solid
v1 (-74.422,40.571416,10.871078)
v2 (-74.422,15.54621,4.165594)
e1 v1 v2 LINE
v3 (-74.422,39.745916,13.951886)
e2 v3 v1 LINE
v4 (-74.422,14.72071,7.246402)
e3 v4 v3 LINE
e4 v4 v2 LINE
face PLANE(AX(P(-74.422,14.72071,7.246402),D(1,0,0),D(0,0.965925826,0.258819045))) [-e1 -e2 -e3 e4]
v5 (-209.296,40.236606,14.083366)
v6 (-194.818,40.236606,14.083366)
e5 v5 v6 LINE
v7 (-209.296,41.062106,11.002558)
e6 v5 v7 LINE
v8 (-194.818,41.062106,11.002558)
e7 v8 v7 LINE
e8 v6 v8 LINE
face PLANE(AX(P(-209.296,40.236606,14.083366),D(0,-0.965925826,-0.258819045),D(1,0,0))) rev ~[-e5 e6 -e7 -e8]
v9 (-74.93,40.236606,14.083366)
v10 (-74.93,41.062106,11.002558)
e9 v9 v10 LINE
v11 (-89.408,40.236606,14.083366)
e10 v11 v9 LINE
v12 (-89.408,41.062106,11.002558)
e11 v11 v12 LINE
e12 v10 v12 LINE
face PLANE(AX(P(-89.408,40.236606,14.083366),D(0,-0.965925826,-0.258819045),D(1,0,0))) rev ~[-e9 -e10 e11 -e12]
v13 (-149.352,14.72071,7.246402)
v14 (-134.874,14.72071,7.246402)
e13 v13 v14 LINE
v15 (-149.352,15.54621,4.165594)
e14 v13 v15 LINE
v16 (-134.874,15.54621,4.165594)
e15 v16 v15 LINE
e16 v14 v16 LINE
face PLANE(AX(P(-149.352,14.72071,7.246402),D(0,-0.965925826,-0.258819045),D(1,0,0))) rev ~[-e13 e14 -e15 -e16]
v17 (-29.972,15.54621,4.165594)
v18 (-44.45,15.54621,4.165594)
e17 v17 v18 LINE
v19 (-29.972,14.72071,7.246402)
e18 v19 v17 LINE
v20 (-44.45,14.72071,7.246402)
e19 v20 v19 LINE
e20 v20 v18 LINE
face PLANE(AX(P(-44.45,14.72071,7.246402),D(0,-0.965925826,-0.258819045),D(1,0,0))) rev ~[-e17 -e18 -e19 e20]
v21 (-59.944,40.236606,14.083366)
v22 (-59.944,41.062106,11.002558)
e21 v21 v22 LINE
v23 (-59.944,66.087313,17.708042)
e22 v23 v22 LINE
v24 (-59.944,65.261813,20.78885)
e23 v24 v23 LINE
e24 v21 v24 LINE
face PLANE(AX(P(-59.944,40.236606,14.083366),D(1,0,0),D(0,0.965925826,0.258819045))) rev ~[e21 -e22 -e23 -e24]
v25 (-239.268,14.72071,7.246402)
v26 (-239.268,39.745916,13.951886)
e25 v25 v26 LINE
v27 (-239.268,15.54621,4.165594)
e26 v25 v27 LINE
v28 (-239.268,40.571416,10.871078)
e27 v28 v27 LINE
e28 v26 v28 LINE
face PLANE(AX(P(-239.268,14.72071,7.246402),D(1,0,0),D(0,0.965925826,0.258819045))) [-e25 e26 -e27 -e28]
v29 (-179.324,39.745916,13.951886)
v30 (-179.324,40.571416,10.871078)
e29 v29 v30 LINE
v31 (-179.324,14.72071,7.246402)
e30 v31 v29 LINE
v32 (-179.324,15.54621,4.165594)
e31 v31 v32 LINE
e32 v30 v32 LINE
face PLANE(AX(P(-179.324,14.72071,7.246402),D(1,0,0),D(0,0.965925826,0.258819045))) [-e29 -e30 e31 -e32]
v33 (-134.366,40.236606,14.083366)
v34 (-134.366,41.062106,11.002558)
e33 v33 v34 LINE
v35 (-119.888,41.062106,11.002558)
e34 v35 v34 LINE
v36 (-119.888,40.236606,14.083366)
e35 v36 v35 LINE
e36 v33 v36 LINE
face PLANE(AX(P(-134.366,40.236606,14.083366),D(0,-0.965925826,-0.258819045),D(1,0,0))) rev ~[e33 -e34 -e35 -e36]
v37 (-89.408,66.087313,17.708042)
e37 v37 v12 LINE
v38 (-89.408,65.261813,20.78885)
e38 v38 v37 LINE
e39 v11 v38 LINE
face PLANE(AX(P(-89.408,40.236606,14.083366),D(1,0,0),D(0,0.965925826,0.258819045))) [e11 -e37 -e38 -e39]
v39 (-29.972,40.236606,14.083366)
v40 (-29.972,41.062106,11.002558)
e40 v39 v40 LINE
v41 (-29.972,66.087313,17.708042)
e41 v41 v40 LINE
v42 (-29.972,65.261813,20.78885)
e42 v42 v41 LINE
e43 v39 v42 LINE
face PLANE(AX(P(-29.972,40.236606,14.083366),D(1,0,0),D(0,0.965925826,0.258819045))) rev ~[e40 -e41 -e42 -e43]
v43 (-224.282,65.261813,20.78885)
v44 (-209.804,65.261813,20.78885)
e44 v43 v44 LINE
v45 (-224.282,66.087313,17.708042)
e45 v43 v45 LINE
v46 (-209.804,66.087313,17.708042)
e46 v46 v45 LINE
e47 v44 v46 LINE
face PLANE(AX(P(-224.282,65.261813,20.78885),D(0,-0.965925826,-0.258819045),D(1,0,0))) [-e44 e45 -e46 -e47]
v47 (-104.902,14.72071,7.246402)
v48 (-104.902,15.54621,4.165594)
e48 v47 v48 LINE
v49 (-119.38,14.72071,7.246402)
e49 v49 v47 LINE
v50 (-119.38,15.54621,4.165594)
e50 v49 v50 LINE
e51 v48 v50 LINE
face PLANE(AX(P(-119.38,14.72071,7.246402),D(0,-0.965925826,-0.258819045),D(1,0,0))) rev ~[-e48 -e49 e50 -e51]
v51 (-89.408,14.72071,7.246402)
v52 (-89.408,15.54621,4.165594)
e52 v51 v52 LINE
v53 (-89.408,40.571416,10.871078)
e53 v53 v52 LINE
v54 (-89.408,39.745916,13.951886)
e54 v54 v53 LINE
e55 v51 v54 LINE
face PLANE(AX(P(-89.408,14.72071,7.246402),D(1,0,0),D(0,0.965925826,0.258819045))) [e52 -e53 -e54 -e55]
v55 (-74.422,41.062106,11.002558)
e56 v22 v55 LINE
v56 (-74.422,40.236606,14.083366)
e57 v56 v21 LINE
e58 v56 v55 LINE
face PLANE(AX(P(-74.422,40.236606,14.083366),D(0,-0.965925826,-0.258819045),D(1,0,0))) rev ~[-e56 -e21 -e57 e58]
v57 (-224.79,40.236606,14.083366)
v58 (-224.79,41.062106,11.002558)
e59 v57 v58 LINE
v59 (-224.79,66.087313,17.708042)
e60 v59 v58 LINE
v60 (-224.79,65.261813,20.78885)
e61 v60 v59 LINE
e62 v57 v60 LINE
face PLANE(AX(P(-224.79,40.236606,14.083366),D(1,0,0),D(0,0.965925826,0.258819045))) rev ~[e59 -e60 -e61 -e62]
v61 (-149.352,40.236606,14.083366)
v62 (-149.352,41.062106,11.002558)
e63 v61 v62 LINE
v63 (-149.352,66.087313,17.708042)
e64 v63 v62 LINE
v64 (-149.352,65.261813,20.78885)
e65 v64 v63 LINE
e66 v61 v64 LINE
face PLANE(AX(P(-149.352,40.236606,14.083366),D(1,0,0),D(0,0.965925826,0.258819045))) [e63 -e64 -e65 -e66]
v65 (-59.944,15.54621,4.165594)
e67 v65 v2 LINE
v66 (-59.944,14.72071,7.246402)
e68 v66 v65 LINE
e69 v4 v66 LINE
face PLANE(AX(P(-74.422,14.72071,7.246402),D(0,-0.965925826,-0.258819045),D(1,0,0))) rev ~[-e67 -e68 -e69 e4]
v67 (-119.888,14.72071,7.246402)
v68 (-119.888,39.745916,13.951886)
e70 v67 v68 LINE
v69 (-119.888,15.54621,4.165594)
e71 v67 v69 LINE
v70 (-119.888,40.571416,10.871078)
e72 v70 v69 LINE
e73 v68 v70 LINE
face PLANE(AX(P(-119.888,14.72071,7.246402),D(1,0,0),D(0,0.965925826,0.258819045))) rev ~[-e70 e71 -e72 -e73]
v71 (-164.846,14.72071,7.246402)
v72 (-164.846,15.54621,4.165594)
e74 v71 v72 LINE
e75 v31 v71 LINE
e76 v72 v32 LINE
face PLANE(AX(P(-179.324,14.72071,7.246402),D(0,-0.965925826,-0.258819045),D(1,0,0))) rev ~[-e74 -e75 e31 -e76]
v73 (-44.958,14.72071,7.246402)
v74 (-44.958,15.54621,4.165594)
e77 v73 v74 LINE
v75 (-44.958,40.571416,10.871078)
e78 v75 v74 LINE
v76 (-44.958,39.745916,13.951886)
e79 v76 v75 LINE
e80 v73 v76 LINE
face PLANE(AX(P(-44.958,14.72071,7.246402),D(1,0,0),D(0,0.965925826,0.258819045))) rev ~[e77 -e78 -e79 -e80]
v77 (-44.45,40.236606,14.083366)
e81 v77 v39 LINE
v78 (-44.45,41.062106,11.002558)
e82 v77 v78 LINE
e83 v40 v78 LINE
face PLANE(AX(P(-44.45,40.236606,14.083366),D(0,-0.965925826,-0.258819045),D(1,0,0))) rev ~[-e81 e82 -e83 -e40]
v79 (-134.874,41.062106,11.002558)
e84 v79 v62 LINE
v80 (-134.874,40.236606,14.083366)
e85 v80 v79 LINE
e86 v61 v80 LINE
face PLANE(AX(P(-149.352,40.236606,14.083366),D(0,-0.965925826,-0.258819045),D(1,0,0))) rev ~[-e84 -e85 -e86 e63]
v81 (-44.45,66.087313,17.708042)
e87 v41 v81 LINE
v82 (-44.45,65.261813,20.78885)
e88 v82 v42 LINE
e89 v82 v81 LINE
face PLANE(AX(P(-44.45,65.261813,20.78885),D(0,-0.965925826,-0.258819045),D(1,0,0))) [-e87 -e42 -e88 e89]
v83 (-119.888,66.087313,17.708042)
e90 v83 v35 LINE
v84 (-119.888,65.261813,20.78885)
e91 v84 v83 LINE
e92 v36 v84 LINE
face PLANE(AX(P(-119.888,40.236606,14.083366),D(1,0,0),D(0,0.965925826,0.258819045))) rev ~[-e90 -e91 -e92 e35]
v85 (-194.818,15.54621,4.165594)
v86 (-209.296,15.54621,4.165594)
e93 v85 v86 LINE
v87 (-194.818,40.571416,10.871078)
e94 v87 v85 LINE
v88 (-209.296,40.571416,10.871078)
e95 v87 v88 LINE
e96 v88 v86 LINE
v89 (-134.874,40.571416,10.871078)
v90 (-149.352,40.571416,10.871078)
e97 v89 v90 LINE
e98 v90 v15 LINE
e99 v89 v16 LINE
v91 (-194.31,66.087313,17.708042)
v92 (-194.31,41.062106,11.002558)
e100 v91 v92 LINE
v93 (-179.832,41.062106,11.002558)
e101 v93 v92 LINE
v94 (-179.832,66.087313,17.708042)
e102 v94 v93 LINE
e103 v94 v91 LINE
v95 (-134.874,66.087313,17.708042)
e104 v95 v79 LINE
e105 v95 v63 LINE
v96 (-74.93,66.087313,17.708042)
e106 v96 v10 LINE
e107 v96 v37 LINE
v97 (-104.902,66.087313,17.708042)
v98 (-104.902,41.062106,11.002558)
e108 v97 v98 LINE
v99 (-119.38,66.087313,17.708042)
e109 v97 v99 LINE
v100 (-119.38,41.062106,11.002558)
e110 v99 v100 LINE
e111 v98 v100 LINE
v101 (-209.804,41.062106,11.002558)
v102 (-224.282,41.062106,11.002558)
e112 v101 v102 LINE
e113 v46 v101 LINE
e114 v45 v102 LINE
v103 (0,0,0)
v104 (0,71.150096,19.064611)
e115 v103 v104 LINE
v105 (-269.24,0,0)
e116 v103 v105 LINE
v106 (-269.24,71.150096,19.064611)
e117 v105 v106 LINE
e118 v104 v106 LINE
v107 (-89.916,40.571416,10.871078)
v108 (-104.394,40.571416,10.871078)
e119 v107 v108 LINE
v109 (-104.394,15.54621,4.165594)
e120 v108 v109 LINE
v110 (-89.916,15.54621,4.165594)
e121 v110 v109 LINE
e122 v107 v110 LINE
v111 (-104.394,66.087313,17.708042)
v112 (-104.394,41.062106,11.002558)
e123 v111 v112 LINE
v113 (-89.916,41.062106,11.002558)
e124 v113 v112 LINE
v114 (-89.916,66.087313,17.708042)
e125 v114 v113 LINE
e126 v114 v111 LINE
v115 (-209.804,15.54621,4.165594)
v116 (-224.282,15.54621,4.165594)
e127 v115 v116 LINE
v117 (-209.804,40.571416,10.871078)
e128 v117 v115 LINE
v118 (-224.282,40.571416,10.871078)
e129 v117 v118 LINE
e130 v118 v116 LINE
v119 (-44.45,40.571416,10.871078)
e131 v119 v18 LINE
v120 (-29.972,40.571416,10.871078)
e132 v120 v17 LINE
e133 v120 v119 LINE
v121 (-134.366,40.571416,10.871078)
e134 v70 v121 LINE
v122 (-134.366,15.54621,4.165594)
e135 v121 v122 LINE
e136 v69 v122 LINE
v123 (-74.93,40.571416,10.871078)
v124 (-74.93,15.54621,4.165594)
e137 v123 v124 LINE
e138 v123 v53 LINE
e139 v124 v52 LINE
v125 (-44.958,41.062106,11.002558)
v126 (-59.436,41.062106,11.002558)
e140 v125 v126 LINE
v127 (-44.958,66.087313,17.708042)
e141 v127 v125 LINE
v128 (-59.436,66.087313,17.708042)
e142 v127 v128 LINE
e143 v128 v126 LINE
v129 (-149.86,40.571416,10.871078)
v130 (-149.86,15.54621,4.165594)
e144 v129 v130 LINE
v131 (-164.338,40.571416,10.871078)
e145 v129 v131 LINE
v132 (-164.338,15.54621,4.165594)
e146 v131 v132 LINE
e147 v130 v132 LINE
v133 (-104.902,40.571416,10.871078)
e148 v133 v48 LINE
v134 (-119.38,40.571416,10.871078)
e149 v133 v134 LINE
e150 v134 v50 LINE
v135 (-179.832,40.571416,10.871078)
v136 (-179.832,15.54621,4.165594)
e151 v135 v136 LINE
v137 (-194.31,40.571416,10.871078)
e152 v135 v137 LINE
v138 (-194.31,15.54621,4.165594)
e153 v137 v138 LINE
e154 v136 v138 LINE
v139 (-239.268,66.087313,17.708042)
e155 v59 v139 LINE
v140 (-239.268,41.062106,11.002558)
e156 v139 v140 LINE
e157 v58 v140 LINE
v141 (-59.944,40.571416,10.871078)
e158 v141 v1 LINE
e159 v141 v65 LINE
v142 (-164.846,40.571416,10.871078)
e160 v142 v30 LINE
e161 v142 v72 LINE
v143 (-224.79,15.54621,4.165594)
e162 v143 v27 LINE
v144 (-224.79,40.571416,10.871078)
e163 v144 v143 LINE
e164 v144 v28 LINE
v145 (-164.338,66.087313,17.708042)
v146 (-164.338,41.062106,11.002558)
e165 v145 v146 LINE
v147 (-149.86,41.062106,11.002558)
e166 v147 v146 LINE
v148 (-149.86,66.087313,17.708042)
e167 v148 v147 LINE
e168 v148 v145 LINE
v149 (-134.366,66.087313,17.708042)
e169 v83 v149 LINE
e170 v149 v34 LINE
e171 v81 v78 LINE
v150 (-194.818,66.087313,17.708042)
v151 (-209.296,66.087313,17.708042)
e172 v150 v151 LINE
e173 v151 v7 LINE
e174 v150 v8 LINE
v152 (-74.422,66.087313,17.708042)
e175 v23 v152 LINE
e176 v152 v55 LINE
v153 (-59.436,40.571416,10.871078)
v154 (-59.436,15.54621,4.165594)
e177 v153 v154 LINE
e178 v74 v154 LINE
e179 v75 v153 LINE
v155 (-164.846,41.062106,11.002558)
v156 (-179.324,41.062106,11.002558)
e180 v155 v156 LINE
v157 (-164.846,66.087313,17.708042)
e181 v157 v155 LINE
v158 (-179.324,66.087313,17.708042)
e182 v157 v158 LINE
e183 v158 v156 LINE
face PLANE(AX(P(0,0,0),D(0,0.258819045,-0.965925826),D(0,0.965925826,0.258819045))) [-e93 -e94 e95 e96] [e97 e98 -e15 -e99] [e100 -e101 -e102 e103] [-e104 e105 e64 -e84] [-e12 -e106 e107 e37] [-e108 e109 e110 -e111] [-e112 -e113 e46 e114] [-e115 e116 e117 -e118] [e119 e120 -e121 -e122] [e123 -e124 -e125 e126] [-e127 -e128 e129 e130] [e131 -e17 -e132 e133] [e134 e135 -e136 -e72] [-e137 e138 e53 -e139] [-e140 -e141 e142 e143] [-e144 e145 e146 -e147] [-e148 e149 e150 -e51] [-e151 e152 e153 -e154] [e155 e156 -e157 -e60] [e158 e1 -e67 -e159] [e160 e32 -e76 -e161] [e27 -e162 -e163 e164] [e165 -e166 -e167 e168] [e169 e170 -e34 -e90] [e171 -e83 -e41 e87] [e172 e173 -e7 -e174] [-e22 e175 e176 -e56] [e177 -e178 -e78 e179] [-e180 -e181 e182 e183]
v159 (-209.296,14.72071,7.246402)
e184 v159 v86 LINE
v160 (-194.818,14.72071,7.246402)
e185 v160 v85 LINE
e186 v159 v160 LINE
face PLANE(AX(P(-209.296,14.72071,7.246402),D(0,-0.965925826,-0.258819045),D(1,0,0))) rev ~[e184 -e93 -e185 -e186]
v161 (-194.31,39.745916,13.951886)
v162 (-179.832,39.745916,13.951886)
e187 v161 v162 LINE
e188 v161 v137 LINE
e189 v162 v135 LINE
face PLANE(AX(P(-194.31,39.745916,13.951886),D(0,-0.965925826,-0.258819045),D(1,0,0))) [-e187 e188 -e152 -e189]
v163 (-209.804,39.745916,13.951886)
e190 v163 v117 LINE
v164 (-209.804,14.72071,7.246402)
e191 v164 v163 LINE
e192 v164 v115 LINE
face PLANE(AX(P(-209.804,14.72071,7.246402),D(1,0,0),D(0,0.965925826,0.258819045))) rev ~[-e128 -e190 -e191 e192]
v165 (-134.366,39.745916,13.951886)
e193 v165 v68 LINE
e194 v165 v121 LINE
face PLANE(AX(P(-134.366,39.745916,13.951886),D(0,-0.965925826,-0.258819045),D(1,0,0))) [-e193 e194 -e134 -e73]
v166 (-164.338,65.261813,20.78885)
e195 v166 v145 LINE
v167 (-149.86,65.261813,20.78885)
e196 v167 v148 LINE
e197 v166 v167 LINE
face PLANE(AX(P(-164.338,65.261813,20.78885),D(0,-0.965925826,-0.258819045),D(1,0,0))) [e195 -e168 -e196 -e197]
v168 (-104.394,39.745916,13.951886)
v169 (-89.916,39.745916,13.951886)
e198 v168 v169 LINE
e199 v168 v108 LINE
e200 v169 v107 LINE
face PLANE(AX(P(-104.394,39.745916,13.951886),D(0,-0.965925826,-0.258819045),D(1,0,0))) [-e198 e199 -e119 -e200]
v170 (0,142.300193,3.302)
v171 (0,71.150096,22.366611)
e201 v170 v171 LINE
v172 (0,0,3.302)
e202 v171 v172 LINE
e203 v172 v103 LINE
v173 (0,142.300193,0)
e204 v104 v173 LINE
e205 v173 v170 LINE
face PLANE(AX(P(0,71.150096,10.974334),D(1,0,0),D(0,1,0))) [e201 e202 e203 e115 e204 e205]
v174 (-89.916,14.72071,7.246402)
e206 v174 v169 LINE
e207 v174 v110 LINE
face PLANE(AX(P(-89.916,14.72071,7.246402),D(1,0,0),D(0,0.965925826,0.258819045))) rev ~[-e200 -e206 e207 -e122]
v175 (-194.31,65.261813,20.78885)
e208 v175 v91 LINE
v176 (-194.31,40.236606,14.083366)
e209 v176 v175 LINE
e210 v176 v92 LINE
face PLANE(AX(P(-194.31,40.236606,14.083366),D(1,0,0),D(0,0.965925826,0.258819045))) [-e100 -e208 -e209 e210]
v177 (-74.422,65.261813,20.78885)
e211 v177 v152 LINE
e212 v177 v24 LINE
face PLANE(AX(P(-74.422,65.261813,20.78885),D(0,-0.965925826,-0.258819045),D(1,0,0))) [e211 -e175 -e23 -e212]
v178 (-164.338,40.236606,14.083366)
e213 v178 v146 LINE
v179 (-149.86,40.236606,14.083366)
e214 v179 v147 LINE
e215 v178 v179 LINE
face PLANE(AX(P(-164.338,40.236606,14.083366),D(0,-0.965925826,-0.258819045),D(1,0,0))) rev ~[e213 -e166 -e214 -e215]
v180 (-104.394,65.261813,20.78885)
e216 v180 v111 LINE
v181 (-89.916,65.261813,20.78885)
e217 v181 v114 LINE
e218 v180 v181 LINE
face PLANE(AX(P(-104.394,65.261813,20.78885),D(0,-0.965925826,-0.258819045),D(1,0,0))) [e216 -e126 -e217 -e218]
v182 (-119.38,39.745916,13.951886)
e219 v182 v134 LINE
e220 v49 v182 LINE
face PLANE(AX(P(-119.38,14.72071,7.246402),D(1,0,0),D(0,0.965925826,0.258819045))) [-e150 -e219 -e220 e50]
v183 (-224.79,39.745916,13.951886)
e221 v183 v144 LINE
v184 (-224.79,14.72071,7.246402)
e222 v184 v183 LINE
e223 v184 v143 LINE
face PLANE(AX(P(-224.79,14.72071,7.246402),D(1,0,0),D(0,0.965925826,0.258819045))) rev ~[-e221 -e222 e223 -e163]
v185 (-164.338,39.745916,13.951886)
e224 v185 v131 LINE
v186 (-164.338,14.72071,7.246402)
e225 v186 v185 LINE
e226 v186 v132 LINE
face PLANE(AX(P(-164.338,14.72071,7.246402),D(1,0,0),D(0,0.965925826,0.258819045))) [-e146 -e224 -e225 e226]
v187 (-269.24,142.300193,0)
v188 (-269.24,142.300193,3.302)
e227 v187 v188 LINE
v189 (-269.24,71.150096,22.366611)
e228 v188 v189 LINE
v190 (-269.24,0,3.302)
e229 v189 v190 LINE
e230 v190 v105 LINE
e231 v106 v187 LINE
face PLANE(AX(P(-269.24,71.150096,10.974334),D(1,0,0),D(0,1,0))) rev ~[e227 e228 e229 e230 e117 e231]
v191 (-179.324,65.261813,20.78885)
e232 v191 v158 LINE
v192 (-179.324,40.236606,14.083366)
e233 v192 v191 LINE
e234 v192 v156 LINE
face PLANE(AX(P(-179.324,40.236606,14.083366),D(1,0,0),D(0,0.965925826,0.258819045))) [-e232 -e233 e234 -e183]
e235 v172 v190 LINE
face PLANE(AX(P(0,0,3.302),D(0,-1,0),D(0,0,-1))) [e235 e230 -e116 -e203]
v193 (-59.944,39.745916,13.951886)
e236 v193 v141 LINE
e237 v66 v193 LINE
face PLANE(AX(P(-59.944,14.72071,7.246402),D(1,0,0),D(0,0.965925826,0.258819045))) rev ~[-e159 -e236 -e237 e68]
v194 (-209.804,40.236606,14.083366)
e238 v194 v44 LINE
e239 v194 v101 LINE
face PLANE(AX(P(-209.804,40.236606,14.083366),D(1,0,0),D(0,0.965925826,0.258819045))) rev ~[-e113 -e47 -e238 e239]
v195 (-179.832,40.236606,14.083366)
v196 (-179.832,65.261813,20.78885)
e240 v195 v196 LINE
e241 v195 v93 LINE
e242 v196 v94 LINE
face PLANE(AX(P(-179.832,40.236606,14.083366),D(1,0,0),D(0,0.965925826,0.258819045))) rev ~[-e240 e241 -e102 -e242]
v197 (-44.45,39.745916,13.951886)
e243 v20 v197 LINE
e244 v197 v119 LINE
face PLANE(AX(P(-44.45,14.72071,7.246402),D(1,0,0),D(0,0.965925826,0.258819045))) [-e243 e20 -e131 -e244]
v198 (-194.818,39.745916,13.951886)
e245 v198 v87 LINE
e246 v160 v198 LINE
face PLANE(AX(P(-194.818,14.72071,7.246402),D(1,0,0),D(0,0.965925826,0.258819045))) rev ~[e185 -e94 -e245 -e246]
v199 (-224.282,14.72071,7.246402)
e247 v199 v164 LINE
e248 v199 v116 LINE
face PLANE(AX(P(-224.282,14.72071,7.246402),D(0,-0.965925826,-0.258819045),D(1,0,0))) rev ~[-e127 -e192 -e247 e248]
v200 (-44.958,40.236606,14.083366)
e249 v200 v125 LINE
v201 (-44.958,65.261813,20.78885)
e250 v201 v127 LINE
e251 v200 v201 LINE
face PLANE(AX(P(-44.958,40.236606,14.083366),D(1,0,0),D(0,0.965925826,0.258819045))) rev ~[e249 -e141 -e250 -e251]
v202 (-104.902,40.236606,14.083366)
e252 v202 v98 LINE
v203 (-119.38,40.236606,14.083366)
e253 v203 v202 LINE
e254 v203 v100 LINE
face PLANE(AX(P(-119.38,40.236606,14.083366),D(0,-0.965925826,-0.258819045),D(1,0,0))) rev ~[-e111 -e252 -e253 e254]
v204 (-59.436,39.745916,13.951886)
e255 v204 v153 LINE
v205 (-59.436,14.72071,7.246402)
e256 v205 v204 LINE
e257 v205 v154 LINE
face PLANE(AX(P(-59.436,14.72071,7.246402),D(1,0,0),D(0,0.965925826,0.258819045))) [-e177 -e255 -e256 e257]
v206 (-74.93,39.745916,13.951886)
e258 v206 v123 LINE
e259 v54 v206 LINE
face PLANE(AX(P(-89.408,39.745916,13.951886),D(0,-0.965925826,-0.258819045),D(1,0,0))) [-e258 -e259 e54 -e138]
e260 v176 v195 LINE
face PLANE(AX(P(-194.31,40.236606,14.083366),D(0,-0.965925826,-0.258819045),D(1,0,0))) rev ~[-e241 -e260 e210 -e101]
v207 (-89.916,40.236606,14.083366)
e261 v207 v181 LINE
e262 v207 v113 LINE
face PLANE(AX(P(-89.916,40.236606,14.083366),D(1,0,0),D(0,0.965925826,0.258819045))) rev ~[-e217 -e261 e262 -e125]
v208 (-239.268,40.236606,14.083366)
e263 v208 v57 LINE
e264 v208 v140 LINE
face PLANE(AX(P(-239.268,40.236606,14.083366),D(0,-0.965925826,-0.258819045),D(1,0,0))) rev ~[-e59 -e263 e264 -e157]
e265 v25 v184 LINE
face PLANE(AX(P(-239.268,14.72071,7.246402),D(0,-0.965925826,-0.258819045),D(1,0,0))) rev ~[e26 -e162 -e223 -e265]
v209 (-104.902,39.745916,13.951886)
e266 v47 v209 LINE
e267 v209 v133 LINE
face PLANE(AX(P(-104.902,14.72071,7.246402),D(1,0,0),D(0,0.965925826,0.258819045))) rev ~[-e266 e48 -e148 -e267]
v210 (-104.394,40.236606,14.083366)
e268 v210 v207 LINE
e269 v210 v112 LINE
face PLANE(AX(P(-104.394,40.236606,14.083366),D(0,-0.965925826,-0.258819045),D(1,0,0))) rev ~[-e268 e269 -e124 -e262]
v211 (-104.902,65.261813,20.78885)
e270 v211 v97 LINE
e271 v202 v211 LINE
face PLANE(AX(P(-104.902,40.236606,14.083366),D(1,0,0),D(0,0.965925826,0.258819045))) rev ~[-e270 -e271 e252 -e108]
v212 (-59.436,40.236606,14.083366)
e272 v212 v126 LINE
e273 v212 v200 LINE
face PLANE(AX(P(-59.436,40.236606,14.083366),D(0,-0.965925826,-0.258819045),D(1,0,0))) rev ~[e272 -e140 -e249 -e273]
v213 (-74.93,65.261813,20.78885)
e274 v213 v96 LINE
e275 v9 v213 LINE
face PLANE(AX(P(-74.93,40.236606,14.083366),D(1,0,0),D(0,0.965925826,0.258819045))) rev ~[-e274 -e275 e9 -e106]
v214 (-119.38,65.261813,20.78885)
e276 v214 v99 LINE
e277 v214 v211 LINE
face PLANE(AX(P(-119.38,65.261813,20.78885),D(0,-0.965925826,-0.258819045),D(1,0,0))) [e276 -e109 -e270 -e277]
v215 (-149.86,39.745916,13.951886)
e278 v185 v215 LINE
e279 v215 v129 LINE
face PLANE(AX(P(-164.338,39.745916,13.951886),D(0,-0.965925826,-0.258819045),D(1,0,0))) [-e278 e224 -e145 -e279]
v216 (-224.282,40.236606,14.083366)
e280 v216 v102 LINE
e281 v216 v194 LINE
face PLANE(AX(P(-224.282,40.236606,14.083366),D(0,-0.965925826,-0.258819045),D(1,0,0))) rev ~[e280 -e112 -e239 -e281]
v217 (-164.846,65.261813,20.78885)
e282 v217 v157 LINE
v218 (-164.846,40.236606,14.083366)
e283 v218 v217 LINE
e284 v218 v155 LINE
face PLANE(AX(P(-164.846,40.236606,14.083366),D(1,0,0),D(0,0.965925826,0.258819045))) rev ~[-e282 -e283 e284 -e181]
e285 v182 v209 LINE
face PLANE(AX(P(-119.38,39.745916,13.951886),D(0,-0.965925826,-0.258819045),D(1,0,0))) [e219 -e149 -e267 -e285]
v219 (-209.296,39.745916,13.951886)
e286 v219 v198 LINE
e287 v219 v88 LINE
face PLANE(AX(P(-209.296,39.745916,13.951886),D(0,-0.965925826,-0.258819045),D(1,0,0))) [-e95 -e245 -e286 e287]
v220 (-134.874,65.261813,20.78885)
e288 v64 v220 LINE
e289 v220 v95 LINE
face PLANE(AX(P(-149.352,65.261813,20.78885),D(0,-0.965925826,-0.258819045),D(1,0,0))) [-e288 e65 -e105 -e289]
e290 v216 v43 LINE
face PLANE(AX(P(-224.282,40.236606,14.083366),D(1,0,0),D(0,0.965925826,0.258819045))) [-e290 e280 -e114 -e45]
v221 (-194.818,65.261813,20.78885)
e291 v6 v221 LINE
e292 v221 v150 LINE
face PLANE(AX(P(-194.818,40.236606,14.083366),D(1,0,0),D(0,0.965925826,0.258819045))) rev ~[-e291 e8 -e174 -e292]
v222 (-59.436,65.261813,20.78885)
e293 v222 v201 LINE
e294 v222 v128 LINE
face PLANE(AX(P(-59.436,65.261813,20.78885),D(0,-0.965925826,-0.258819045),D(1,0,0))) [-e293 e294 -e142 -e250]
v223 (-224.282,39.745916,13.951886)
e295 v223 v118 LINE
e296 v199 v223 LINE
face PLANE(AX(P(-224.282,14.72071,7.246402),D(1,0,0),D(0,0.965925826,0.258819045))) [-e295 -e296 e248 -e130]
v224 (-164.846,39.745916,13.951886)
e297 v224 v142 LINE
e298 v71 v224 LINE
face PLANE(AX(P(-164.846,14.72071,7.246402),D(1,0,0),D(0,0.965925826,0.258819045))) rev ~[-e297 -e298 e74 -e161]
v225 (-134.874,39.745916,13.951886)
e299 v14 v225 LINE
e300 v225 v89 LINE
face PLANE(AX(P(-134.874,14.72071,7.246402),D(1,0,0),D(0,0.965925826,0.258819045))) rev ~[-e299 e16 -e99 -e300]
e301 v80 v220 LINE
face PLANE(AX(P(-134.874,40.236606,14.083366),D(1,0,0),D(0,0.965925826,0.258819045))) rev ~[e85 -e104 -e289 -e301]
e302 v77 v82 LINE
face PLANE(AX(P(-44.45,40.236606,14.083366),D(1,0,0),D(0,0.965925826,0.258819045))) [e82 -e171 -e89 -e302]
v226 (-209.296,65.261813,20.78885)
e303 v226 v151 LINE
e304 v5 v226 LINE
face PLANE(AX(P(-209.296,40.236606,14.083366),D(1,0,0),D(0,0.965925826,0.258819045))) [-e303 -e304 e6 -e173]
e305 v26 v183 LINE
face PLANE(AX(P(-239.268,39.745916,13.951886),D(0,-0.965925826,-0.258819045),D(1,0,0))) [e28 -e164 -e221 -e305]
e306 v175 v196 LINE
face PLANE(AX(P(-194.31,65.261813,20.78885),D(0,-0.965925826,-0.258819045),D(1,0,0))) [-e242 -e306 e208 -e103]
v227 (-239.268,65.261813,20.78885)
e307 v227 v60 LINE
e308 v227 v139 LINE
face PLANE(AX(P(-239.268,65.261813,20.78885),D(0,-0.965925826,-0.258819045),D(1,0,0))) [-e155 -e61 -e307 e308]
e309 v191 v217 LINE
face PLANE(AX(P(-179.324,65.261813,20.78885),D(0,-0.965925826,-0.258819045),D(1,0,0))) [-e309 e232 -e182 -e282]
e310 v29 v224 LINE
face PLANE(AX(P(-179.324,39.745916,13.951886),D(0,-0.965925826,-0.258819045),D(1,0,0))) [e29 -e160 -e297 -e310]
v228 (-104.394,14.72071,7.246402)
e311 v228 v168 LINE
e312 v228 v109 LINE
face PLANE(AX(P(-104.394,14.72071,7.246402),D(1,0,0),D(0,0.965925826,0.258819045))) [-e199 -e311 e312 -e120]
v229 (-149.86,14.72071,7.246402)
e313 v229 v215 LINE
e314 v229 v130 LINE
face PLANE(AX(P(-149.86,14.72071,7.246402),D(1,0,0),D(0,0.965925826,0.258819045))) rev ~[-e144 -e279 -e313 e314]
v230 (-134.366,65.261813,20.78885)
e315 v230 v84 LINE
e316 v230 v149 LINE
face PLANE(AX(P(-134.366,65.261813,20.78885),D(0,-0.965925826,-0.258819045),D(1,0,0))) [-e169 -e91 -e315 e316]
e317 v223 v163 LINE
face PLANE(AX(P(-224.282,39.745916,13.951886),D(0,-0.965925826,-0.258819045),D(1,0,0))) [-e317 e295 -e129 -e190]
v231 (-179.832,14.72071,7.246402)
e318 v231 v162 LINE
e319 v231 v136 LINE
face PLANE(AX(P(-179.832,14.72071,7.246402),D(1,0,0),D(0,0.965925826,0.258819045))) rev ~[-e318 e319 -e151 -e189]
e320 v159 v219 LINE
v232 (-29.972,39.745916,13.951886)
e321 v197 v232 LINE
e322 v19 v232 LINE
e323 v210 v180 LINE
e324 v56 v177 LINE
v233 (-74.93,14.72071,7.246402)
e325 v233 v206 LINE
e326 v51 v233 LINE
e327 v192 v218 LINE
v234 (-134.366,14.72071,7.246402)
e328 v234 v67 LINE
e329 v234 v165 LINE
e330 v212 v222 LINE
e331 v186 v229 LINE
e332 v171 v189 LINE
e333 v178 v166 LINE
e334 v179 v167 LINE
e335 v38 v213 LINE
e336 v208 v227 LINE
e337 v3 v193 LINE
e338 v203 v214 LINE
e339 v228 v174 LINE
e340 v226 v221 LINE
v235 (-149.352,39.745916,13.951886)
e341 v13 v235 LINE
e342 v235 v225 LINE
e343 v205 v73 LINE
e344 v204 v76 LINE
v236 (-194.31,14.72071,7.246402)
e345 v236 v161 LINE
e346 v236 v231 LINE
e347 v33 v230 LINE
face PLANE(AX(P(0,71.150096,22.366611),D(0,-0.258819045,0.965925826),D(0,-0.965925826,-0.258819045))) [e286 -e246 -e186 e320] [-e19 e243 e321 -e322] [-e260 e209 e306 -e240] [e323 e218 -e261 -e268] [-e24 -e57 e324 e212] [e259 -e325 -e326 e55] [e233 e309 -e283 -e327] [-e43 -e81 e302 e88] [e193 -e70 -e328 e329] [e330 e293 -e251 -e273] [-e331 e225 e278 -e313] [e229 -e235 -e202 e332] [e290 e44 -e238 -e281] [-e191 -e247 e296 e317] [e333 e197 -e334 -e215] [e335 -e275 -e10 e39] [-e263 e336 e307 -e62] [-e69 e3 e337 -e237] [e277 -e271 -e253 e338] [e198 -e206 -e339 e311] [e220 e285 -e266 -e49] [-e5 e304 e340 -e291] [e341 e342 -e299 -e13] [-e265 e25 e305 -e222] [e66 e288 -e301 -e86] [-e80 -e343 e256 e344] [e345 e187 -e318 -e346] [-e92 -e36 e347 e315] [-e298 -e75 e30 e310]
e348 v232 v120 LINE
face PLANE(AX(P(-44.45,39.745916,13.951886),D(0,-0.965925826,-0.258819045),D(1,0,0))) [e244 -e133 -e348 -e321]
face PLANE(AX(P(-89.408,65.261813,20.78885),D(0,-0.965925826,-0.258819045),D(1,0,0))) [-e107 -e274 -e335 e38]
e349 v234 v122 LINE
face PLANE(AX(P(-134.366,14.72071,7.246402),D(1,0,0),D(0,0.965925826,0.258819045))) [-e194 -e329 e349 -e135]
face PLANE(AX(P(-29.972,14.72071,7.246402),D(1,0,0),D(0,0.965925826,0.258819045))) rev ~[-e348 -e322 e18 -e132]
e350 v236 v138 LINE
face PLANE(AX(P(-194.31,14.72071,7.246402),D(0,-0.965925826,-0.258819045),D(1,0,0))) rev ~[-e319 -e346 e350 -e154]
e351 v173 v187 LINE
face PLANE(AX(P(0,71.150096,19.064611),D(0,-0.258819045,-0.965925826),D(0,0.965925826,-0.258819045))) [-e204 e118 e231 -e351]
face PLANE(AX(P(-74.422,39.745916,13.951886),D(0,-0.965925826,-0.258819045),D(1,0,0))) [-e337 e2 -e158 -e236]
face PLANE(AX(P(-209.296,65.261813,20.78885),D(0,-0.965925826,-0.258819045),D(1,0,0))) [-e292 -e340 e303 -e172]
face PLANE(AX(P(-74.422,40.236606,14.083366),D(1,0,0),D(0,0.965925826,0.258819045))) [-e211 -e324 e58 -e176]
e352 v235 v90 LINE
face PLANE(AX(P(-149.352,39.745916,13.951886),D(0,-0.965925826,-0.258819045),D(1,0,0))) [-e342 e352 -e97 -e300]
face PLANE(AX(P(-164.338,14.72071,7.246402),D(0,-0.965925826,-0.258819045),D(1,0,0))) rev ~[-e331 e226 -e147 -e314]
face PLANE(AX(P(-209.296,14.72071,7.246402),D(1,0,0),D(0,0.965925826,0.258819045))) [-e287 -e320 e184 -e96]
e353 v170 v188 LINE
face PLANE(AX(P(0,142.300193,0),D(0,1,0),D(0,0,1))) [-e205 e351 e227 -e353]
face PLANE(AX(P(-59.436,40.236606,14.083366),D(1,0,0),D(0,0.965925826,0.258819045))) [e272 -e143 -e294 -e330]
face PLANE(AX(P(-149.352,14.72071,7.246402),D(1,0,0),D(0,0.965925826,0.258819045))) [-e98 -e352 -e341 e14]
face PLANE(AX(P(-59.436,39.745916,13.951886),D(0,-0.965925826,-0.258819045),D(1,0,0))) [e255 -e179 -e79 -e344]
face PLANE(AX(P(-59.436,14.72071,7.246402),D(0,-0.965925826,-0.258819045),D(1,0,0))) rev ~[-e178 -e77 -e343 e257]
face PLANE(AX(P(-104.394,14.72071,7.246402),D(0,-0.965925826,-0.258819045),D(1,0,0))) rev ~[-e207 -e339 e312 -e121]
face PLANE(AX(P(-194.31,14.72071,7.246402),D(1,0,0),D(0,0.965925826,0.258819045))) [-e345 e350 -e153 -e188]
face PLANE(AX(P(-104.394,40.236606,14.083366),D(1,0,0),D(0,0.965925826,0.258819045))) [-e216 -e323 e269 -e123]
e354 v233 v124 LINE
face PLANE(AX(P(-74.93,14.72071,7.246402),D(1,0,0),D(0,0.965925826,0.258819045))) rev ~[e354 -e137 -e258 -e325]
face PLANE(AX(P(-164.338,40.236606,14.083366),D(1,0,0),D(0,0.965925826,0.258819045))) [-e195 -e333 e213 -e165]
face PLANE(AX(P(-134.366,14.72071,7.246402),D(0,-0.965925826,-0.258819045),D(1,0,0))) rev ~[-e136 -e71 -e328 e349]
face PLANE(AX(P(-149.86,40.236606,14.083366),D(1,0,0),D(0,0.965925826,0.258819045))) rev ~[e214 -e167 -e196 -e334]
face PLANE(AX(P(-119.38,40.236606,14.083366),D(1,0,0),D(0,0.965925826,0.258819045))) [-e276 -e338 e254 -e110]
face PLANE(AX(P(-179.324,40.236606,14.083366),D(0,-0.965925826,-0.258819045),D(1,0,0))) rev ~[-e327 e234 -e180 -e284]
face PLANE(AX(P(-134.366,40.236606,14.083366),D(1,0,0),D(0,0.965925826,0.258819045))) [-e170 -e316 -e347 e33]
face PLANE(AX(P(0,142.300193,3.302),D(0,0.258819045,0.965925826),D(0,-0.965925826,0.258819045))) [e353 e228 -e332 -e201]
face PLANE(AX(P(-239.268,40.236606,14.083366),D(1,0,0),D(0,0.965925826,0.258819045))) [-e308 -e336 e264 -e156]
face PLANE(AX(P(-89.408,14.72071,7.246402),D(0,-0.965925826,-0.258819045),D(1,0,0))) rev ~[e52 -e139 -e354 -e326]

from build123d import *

# Parameters (mm, degrees)
F1_DEPTH = 269.24
F2_W     = 14.478
F2_H     = 25.908
F3_DEPTH = 25.4


with BuildPart() as f1:
    # F0 (on Right) → F1 (new body)
    with BuildSketch(Plane.YZ):
        Polygon((0, 3.302), (0, 0), (71.1500963645, 19.0646108623), (142.3001927289, 0), (142.3001927289, 3.302), (71.1500963645, 22.3666108623), align=None)
    extrude(amount=-F1_DEPTH)

    # F2 (on face) → F3 (cut)
    with BuildSketch(Plane(origin=(0, -0.8255, 3.0808079416), x_dir=(1, 0, 0), z_dir=(0, -0.2588190451, 0.9659258263))):
        with Locations((-232.029, 55.4646204869)):
            Rectangle(F2_W, F2_H)
        with Locations((-232.029, 29.0486204869)):
            Rectangle(F2_W, F2_H)
        with Locations((-217.043, 55.4646204869)):
            Rectangle(F2_W, F2_H)
        with Locations((-217.043, 29.0486204869)):
            Rectangle(F2_W, F2_H)
        with Locations((-202.057, 55.4646204869)):
            Rectangle(F2_W, F2_H)
        with Locations((-202.057, 29.0486204869)):
            Rectangle(F2_W, F2_H)
        with Locations((-187.071, 55.4646204869)):
            Rectangle(F2_W, F2_H)
        with Locations((-187.071, 29.0486204869)):
            Rectangle(F2_W, F2_H)
        with Locations((-172.085, 55.4646204869)):
            Rectangle(F2_W, F2_H)
        with Locations((-172.085, 29.0486204869)):
            Rectangle(F2_W, F2_H)
        with Locations((-157.099, 55.4646204869)):
            Rectangle(F2_W, F2_H)
        with Locations((-157.099, 29.0486204869)):
            Rectangle(F2_W, F2_H)
        with Locations((-142.113, 55.4646204869)):
            Rectangle(F2_W, F2_H)
        with Locations((-142.113, 29.0486204869)):
            Rectangle(F2_W, F2_H)
        with Locations((-127.127, 55.4646204869)):
            Rectangle(F2_W, F2_H)
        with Locations((-127.127, 29.0486204869)):
            Rectangle(F2_W, F2_H)
        with Locations((-112.141, 55.4646204869)):
            Rectangle(F2_W, F2_H)
        with Locations((-112.141, 29.0486204869)):
            Rectangle(F2_W, F2_H)
        with Locations((-97.155, 55.4646204869)):
            Rectangle(F2_W, F2_H)
        with Locations((-97.155, 29.0486204869)):
            Rectangle(F2_W, F2_H)
        with Locations((-82.169, 55.4646204869)):
            Rectangle(F2_W, F2_H)
        with Locations((-82.169, 29.0486204869)):
            Rectangle(F2_W, F2_H)
        with Locations((-67.183, 55.4646204869)):
            Rectangle(F2_W, F2_H)
        with Locations((-67.183, 29.0486204869)):
            Rectangle(F2_W, F2_H)
        with Locations((-52.197, 55.4646204869)):
            Rectangle(F2_W, F2_H)
        with Locations((-52.197, 29.0486204869)):
            Rectangle(F2_W, F2_H)
        with Locations((-37.211, 55.4646204869)):
            Rectangle(F2_W, F2_H)
        with Locations((-37.211, 29.0486204869)):
            Rectangle(F2_W, F2_H)
    extrude(amount=-F3_DEPTH, mode=Mode.SUBTRACT)


solid = f1.part
